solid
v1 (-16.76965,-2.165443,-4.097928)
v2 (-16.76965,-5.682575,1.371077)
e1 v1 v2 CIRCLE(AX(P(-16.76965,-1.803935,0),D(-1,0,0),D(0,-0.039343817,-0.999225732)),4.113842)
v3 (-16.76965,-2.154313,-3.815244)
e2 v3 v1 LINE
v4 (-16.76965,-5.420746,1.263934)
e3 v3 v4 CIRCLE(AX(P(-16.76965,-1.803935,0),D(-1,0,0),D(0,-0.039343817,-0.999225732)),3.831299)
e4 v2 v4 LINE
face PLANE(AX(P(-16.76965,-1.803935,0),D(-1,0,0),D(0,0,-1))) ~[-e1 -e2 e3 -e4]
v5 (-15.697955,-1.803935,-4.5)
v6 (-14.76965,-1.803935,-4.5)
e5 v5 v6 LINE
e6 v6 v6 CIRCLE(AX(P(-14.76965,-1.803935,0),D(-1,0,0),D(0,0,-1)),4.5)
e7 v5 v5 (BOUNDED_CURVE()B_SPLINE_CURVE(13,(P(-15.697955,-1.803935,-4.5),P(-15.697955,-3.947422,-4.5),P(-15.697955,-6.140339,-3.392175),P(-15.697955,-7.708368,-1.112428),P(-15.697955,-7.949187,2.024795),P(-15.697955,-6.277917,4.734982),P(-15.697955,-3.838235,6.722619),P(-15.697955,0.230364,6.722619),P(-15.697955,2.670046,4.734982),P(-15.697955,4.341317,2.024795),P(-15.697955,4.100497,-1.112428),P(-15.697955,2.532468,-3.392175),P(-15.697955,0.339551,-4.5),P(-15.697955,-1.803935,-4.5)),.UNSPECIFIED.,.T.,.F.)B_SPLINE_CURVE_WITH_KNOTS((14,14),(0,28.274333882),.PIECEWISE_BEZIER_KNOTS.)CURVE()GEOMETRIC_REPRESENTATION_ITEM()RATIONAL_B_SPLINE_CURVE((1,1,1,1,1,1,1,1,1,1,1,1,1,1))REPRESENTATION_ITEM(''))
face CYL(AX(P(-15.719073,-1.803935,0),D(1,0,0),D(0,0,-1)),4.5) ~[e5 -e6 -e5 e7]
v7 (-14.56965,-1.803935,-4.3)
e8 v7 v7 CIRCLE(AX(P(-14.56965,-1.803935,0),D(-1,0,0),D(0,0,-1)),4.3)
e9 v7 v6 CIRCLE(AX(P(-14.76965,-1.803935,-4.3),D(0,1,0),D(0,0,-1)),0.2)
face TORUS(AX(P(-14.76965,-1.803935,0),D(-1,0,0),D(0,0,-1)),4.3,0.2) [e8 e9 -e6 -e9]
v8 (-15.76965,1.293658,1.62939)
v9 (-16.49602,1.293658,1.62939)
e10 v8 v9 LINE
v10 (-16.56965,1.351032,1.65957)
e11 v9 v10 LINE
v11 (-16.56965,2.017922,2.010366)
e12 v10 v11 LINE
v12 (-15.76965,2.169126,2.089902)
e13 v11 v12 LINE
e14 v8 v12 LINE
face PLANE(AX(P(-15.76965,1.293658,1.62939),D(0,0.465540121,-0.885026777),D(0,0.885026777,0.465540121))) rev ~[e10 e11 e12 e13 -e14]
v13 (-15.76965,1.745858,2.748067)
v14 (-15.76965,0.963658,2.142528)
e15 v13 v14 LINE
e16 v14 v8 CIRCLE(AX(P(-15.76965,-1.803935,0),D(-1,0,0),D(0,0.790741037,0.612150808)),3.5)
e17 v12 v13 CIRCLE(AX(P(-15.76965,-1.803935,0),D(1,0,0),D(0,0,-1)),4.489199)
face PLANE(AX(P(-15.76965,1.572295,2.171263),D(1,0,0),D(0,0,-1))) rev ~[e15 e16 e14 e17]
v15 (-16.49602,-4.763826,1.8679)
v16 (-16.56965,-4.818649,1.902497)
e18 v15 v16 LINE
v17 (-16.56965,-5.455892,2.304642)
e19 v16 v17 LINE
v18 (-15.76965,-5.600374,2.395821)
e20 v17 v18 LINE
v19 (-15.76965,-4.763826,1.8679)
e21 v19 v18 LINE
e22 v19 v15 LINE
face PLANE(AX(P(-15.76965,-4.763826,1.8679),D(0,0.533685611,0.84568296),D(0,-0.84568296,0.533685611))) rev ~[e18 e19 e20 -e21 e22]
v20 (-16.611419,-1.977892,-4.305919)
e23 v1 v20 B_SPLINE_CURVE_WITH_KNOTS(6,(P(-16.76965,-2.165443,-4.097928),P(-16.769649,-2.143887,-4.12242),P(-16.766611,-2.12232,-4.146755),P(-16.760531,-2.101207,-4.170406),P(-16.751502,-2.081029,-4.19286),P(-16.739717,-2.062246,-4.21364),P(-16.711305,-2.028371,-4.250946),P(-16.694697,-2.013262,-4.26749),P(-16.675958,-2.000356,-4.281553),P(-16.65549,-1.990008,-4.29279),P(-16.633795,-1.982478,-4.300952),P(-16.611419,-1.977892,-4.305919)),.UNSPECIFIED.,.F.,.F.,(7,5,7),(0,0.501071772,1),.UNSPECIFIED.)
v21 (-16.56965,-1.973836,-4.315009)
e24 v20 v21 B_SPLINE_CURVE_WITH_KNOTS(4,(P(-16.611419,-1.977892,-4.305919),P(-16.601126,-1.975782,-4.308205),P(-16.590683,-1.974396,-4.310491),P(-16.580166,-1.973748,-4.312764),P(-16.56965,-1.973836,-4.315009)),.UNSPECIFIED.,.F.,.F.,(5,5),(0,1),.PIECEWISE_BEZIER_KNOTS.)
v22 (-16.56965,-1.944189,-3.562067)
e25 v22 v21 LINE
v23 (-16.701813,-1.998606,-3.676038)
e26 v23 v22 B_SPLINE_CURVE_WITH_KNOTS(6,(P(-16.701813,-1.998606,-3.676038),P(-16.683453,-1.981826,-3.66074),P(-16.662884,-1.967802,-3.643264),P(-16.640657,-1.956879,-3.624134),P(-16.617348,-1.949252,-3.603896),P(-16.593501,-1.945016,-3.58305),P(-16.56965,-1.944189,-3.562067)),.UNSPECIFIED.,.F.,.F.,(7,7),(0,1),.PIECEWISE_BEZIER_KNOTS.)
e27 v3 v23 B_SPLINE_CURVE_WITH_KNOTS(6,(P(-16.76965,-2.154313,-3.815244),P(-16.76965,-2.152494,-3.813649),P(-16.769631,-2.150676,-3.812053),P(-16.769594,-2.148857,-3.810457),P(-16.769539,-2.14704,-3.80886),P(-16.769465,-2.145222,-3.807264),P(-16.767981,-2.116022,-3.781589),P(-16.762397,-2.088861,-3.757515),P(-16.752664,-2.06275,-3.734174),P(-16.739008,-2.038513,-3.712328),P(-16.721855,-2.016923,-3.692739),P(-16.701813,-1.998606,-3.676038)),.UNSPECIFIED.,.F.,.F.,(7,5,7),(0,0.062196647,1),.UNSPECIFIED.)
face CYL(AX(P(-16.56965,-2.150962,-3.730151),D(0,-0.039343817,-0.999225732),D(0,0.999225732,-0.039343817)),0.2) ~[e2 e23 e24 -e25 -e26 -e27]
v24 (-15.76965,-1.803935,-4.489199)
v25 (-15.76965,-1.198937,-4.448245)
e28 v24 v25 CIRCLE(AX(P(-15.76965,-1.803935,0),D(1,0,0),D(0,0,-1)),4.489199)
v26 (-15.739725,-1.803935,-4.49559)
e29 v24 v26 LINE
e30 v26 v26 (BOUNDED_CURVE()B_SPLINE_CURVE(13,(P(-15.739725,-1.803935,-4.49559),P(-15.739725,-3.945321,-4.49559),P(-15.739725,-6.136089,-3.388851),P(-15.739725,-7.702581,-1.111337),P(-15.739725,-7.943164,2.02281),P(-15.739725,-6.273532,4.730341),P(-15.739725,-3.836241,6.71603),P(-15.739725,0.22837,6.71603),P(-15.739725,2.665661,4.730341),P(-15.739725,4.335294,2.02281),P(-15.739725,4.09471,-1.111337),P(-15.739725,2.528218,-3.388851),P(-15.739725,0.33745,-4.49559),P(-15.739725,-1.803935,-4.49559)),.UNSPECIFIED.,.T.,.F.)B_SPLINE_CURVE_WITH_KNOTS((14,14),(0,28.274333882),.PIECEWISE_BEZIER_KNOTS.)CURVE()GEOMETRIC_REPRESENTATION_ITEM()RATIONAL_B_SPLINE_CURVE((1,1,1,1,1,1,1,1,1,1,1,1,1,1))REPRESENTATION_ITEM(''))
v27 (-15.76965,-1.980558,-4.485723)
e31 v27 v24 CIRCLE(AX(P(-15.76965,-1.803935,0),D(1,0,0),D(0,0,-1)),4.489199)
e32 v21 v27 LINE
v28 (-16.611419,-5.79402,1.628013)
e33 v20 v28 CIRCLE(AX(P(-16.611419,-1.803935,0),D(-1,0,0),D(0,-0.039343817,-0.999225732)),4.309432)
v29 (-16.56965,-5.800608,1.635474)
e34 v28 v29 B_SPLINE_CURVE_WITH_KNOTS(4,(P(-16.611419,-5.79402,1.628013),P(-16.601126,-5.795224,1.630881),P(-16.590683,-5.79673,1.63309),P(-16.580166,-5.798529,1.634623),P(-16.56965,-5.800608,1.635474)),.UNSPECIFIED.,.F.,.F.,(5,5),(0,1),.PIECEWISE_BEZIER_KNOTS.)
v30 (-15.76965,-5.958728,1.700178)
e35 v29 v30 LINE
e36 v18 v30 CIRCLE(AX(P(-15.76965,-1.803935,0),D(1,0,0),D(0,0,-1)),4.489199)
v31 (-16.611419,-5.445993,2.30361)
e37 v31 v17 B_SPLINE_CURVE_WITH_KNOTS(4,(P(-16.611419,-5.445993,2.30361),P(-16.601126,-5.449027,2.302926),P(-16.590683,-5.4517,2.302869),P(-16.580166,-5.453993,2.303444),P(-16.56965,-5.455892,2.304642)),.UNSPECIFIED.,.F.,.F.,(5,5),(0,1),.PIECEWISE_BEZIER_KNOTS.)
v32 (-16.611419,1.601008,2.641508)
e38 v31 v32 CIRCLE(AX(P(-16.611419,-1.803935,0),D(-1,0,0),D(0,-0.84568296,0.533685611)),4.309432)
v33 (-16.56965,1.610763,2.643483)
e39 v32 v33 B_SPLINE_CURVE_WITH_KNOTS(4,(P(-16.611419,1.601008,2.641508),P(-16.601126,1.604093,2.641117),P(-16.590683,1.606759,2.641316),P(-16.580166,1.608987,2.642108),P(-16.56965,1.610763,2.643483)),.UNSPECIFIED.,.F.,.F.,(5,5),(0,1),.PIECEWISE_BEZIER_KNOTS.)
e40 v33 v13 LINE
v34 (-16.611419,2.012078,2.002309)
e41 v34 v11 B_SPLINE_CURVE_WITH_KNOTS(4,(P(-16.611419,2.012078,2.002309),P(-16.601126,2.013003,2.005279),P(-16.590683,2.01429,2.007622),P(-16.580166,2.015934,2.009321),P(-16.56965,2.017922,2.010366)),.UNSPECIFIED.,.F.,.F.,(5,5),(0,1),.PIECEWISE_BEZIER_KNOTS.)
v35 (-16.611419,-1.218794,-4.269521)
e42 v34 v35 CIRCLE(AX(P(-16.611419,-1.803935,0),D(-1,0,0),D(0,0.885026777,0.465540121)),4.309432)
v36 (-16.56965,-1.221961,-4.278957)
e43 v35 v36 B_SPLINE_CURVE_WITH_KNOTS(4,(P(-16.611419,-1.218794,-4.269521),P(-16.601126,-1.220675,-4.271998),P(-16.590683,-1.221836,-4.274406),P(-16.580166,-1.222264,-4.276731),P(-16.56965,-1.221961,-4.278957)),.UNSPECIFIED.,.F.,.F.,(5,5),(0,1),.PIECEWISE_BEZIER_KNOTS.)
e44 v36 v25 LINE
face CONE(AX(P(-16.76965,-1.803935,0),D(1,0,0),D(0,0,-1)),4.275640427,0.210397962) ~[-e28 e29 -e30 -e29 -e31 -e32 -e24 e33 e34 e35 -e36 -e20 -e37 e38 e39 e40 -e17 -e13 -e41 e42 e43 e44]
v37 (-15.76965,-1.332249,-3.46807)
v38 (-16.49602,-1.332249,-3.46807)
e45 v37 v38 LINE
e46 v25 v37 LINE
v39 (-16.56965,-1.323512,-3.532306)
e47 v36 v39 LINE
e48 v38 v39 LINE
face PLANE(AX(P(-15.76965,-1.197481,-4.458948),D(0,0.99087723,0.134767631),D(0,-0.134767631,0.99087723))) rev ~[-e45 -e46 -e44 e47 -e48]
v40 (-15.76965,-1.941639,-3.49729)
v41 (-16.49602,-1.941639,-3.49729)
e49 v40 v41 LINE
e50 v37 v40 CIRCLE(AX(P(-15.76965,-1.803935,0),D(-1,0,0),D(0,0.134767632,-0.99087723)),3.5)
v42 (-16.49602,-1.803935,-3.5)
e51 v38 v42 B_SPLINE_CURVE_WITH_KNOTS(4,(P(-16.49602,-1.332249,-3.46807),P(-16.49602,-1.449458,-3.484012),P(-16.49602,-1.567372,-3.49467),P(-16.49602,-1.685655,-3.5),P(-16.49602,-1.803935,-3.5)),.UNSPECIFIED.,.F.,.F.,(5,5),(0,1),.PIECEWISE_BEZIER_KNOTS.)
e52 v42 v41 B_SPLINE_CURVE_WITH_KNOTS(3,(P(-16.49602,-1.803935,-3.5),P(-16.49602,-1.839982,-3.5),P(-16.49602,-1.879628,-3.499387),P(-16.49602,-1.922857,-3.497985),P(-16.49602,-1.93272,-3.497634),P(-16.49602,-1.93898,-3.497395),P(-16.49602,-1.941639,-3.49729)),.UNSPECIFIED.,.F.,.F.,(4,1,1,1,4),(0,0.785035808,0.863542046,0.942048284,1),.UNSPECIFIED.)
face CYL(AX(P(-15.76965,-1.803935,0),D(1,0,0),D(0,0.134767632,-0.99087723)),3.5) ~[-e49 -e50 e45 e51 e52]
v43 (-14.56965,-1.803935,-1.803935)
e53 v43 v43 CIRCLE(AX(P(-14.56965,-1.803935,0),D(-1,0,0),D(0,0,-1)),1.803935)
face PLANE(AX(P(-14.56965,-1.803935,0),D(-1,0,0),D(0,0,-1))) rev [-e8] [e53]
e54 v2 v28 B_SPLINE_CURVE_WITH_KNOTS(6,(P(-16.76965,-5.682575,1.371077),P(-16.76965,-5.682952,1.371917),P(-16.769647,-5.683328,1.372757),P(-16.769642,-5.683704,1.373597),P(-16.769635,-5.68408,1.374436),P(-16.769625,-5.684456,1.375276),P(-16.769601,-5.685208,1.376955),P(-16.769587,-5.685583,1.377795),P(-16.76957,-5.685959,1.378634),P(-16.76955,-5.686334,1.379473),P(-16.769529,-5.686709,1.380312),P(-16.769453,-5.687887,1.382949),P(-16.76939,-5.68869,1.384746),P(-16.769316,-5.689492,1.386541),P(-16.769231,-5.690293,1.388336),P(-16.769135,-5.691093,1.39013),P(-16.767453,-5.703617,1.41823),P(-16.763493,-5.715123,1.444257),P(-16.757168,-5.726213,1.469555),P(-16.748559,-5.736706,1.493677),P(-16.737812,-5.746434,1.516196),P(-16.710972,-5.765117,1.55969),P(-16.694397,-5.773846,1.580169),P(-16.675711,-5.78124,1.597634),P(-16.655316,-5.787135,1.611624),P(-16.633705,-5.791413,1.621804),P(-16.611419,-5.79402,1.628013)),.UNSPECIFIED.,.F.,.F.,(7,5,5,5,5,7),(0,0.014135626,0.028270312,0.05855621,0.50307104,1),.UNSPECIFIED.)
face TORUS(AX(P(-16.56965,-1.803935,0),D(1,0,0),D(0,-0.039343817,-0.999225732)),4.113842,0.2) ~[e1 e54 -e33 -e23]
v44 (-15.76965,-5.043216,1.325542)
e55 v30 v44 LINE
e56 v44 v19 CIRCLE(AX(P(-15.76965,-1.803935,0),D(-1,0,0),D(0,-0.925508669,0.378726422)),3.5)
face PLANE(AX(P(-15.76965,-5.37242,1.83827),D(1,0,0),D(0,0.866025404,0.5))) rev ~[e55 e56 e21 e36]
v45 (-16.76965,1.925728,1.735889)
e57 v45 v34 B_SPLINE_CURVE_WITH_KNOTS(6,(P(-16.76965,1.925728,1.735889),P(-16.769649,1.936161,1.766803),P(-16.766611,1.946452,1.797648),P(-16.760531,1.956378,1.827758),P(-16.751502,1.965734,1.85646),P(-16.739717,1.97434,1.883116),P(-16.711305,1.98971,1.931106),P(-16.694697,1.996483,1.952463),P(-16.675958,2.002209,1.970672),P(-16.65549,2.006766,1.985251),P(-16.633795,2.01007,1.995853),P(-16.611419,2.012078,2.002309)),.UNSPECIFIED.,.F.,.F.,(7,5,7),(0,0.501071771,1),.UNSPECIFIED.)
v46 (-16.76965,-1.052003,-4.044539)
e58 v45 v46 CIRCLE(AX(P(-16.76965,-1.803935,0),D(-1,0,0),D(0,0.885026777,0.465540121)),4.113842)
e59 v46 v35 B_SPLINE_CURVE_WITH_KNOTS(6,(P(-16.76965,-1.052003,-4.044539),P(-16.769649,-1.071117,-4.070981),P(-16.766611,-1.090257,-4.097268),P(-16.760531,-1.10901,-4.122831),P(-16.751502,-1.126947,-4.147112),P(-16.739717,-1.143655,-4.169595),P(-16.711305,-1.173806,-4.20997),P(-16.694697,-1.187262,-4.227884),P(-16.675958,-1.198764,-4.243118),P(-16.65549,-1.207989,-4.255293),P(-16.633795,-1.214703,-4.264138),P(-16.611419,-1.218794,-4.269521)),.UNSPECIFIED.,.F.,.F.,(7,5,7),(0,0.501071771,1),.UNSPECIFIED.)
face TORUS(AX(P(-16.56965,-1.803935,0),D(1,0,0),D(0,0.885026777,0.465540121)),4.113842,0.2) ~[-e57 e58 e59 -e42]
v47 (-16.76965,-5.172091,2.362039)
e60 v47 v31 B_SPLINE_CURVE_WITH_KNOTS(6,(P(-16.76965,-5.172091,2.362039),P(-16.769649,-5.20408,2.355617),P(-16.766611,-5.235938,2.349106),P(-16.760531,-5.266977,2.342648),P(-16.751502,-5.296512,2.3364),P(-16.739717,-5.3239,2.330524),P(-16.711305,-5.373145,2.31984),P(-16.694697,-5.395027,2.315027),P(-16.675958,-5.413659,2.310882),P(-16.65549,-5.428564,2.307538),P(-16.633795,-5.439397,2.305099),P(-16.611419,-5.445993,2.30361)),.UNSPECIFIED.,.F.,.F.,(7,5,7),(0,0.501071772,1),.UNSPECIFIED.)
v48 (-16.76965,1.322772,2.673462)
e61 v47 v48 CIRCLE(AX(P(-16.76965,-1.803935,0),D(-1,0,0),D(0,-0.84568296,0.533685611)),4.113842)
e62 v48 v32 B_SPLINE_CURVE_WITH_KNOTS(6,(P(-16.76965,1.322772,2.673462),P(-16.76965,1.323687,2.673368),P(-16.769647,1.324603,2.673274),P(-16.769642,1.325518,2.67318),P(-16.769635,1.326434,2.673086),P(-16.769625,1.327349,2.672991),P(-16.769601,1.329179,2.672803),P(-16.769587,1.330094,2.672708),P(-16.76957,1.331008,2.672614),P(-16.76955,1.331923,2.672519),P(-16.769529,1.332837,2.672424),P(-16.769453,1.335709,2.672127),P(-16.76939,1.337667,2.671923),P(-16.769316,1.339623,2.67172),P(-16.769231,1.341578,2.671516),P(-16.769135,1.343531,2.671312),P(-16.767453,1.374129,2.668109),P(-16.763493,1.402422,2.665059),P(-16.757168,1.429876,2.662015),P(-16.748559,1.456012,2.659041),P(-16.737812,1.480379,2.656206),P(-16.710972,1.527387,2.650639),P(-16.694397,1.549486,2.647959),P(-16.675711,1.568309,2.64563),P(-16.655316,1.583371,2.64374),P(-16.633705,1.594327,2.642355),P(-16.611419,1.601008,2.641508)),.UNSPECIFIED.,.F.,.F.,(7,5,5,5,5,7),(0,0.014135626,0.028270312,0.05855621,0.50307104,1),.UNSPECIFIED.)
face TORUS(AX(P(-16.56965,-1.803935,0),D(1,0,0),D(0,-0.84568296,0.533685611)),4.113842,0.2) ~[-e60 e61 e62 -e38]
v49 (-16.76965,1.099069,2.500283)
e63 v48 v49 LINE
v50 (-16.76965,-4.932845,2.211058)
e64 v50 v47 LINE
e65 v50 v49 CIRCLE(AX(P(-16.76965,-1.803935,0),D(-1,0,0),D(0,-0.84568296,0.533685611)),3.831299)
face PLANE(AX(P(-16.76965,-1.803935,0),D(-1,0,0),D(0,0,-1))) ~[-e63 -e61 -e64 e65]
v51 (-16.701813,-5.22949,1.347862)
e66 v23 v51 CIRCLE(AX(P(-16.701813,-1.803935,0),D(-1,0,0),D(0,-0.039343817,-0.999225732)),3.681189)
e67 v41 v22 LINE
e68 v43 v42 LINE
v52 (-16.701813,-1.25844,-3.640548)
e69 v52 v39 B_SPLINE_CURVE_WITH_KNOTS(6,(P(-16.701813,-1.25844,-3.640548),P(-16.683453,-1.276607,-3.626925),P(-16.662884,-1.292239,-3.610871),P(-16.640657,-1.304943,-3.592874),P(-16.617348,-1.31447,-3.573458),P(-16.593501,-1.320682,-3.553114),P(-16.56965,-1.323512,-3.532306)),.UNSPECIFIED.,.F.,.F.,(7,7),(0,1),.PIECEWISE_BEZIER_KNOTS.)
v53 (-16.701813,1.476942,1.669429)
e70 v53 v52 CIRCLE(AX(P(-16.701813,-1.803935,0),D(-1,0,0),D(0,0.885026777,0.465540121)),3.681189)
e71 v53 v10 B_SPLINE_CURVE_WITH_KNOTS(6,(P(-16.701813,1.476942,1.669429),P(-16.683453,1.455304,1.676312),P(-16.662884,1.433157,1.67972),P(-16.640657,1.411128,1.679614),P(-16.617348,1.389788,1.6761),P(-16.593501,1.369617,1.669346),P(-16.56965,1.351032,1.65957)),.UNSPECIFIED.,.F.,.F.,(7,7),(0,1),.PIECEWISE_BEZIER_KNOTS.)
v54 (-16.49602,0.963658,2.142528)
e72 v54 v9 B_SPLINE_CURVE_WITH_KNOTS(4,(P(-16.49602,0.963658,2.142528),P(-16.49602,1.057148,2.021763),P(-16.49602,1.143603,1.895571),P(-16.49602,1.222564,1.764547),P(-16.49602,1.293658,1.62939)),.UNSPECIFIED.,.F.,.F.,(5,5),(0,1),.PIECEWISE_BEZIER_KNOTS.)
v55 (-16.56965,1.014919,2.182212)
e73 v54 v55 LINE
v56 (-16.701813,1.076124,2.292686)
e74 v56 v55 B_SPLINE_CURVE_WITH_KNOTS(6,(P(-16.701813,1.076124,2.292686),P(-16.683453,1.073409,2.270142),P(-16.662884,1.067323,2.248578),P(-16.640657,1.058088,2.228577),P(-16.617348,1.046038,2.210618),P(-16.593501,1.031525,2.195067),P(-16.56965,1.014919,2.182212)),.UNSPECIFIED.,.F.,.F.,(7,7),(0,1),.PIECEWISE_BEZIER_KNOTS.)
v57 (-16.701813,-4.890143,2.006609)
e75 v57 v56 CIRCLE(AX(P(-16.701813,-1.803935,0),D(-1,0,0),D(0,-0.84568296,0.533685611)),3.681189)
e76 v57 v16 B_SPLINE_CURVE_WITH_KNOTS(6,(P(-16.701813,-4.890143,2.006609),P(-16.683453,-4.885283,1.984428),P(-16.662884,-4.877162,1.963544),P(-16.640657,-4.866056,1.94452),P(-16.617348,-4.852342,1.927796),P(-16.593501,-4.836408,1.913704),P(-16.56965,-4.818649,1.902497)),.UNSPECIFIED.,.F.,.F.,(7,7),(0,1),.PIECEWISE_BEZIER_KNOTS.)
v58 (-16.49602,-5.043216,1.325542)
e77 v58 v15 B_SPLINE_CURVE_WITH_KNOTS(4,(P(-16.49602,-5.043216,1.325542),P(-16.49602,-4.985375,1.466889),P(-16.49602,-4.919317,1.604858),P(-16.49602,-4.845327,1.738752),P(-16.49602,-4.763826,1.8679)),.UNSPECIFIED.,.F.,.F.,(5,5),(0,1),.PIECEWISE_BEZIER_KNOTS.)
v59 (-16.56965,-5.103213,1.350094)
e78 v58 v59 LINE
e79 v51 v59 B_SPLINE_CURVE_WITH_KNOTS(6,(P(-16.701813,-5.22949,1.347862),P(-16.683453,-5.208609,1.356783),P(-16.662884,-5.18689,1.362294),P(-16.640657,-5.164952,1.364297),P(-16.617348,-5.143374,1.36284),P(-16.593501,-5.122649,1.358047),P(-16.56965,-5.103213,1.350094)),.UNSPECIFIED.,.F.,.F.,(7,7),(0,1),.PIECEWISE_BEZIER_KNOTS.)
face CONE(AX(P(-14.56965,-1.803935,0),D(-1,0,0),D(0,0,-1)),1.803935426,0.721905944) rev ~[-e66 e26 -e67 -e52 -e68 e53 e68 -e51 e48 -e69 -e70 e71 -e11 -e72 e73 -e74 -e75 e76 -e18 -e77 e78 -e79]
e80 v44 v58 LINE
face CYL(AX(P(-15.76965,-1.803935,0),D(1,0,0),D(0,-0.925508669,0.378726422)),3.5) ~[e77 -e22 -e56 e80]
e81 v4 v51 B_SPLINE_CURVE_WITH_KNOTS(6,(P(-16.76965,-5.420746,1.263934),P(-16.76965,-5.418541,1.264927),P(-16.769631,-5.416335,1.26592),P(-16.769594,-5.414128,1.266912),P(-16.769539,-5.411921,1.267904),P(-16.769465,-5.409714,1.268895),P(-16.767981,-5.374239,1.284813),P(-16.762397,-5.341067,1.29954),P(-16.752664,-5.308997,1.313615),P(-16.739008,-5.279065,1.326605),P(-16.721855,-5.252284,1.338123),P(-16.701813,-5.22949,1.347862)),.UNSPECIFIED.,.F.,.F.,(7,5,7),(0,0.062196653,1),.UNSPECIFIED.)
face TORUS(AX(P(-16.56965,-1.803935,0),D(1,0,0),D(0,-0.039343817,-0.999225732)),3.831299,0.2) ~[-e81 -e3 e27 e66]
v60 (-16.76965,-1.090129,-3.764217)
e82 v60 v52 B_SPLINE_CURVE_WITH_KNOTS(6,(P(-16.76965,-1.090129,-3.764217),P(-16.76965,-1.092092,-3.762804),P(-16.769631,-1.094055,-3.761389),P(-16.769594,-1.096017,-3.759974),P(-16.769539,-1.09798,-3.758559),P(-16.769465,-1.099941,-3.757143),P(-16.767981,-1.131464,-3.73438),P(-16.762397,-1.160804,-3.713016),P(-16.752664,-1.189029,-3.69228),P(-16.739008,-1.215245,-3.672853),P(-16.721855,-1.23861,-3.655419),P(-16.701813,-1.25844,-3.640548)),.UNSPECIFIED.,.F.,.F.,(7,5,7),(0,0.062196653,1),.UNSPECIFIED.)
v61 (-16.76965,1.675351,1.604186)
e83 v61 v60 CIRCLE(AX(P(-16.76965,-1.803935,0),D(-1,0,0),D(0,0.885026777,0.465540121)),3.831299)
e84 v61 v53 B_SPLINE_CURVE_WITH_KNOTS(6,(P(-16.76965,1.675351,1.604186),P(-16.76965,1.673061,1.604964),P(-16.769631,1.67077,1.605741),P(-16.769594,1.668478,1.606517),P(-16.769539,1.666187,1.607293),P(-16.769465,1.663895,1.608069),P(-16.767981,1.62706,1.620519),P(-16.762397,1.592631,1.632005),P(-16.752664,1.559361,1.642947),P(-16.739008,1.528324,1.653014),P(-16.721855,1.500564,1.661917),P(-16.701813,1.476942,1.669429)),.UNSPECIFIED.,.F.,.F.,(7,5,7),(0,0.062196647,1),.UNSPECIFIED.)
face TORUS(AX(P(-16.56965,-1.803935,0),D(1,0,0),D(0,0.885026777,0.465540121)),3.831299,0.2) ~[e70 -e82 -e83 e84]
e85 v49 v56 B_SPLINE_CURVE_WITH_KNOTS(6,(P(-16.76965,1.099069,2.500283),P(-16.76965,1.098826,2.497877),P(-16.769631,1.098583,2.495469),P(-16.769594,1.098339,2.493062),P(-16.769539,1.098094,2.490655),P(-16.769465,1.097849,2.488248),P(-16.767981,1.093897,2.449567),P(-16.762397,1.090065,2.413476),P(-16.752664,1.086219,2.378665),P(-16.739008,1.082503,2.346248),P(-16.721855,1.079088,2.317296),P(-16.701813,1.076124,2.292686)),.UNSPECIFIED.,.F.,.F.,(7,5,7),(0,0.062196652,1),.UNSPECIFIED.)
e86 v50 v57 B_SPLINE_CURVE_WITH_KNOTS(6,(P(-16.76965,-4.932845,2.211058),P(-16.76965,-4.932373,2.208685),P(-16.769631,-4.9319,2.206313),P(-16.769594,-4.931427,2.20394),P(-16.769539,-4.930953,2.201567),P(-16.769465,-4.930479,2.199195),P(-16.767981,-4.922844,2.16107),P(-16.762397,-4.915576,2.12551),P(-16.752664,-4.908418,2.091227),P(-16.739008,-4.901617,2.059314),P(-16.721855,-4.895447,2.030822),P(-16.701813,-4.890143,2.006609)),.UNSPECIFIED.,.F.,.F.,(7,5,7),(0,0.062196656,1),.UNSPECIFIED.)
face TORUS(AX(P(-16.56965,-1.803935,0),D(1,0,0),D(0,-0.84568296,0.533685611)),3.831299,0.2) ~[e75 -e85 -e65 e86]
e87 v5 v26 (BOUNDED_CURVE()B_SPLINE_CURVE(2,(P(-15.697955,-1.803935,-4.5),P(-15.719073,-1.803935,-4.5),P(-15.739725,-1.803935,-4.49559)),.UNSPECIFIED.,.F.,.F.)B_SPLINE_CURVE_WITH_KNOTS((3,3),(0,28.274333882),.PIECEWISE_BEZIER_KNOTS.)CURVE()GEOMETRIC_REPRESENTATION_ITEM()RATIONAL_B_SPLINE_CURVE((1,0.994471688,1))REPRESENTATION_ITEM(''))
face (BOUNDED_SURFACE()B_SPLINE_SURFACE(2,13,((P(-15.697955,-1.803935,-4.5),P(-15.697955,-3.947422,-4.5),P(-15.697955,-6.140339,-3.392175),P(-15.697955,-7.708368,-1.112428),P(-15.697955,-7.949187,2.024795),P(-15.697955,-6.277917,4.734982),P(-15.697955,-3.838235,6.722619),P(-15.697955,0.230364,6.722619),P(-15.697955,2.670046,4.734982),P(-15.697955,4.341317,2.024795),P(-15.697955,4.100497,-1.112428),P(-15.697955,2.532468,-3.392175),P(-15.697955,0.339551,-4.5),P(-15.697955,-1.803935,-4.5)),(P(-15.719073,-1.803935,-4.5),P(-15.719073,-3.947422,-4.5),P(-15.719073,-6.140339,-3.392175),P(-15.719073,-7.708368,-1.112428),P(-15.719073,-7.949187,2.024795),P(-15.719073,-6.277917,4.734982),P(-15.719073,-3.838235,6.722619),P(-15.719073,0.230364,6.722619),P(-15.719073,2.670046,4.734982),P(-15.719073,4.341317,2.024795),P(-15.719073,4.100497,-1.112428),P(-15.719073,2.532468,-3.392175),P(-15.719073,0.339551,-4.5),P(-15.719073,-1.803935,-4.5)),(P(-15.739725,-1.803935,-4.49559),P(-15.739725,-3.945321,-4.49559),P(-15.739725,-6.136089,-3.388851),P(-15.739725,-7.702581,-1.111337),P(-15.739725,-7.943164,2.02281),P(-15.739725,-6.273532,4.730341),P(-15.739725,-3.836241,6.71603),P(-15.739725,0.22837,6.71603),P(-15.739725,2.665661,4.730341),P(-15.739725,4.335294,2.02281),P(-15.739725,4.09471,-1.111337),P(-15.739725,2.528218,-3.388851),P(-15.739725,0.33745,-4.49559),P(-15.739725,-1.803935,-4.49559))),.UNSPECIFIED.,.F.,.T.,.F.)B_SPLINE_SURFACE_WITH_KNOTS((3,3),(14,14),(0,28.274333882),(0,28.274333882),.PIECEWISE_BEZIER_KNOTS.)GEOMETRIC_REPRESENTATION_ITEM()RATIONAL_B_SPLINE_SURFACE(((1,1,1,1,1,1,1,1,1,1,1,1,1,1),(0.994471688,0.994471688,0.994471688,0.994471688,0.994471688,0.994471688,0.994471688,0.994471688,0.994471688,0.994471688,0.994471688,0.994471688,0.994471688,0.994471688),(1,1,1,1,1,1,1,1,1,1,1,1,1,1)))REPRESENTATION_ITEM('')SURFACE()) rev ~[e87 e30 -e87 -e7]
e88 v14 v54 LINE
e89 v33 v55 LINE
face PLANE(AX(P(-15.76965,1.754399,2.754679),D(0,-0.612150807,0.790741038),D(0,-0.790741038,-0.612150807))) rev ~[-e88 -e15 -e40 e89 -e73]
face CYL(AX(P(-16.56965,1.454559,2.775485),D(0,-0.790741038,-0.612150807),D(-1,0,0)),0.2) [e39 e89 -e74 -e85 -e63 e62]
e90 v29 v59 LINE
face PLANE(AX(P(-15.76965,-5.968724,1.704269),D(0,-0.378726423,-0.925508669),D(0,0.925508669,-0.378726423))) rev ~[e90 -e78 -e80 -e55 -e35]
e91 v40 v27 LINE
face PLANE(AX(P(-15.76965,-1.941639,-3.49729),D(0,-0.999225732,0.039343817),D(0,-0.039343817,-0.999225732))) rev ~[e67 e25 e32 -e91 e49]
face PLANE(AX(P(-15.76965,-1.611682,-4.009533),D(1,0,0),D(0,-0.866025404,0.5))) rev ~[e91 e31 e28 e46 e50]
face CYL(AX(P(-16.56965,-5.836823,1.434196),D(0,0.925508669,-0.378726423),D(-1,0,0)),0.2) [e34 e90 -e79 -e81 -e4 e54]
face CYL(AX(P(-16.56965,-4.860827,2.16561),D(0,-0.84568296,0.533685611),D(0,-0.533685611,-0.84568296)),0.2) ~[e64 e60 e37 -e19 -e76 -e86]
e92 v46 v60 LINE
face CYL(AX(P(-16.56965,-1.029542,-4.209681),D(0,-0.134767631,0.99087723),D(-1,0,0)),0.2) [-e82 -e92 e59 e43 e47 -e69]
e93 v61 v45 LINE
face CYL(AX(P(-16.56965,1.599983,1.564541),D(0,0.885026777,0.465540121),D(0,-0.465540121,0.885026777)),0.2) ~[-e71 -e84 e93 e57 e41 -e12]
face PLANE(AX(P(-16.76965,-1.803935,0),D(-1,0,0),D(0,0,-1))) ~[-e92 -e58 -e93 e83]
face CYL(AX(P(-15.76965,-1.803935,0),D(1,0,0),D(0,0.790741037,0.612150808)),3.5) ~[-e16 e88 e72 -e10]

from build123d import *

# Parameters (mm, degrees)
CUT_EXTRUDE_1_DEPTH      = 1
PATTERN_CIRCULAR_1_COUNT = 3
FILLET_1_R               = 0.2


with BuildPart() as part:
    # 草图1 → 旋转1 (revolve)
    with BuildSketch(Plane.XY):
        Polygon((-16.769649529, 1.936980405), (-14.569649529, 0), (-14.569649529, 2.471705001), (-14.569649529, 2.696064574), (-15.719072987, 2.696064574), (-16.769649529, 2.471705001), align=None)
    revolve(axis=Axis((-14.569649529, -1.803935426, 0), (-1, 0, 0)))

    # 草图6 → 切除-拉伸1 (cut)
    with BuildSketch(Plane.ZY.offset(16.769649529)):
        with BuildLine():
            Line((1.629390424, 1.293658293), (2.094930545, 2.17868507))
            ThreePointArc((2.094930545, 2.17868507), (2.434066949, 1.980944769), (2.754678634, 1.754399244))
            Line((2.754678634, 1.754399244), (2.142527827, 0.963658206))
            ThreePointArc((2.142527827, 0.963658206), (1.893163183, 1.139860281), (1.629390424, 1.293658293))
        make_face()
    cut_extrude_1 = extrude(amount=-CUT_EXTRUDE_1_DEPTH, mode=Mode.SUBTRACT)

    # 阵列(圆周)1: 切除-拉伸1 ×3 about axis
    pattern_circular_1_axis = Axis((-16.769649529, -1.803935426, 0), (1, 0, 0))
    for i in range(1, PATTERN_CIRCULAR_1_COUNT):
        add(cut_extrude_1.rotate(pattern_circular_1_axis, i * 360 / PATTERN_CIRCULAR_1_COUNT), mode=Mode.SUBTRACT)

    # 圆角1
    fillet_1_edges = [part.edges().sort_by_distance(p)[0] for p in [
        (-15.719072987, -6.303935426, 0),
        (-14.569649529, -6.303935426, 0),
        (-16.769649529, 1.365574581, 2.453670694),
        (-16.769649529, -2.008713628, 4.270733771),
        (-16.769649529, -5.193667937, 2.139160363),
        (-16.769649529, -1.983103443, 3.736622817),
        (-16.769649529, 1.743498047, 1.866014286),
        (-16.769649529, 1.013905087, -2.460533703),
        (-16.769649529, -1.263749276, -3.971711531),
        (-16.769649529, 1.416685768, -2.812241132),
        (-16.769649529, -5.513631583, 1.518040837),
        (-16.769649529, -5.400110263, -2.312710011),
        (-16.769649529, -1.961636387, -4.005174649),
        (-16.769649529, -4.950361701, -2.023475463),
    ]]
    fillet(fillet_1_edges, radius=FILLET_1_R)


solid = part.part
